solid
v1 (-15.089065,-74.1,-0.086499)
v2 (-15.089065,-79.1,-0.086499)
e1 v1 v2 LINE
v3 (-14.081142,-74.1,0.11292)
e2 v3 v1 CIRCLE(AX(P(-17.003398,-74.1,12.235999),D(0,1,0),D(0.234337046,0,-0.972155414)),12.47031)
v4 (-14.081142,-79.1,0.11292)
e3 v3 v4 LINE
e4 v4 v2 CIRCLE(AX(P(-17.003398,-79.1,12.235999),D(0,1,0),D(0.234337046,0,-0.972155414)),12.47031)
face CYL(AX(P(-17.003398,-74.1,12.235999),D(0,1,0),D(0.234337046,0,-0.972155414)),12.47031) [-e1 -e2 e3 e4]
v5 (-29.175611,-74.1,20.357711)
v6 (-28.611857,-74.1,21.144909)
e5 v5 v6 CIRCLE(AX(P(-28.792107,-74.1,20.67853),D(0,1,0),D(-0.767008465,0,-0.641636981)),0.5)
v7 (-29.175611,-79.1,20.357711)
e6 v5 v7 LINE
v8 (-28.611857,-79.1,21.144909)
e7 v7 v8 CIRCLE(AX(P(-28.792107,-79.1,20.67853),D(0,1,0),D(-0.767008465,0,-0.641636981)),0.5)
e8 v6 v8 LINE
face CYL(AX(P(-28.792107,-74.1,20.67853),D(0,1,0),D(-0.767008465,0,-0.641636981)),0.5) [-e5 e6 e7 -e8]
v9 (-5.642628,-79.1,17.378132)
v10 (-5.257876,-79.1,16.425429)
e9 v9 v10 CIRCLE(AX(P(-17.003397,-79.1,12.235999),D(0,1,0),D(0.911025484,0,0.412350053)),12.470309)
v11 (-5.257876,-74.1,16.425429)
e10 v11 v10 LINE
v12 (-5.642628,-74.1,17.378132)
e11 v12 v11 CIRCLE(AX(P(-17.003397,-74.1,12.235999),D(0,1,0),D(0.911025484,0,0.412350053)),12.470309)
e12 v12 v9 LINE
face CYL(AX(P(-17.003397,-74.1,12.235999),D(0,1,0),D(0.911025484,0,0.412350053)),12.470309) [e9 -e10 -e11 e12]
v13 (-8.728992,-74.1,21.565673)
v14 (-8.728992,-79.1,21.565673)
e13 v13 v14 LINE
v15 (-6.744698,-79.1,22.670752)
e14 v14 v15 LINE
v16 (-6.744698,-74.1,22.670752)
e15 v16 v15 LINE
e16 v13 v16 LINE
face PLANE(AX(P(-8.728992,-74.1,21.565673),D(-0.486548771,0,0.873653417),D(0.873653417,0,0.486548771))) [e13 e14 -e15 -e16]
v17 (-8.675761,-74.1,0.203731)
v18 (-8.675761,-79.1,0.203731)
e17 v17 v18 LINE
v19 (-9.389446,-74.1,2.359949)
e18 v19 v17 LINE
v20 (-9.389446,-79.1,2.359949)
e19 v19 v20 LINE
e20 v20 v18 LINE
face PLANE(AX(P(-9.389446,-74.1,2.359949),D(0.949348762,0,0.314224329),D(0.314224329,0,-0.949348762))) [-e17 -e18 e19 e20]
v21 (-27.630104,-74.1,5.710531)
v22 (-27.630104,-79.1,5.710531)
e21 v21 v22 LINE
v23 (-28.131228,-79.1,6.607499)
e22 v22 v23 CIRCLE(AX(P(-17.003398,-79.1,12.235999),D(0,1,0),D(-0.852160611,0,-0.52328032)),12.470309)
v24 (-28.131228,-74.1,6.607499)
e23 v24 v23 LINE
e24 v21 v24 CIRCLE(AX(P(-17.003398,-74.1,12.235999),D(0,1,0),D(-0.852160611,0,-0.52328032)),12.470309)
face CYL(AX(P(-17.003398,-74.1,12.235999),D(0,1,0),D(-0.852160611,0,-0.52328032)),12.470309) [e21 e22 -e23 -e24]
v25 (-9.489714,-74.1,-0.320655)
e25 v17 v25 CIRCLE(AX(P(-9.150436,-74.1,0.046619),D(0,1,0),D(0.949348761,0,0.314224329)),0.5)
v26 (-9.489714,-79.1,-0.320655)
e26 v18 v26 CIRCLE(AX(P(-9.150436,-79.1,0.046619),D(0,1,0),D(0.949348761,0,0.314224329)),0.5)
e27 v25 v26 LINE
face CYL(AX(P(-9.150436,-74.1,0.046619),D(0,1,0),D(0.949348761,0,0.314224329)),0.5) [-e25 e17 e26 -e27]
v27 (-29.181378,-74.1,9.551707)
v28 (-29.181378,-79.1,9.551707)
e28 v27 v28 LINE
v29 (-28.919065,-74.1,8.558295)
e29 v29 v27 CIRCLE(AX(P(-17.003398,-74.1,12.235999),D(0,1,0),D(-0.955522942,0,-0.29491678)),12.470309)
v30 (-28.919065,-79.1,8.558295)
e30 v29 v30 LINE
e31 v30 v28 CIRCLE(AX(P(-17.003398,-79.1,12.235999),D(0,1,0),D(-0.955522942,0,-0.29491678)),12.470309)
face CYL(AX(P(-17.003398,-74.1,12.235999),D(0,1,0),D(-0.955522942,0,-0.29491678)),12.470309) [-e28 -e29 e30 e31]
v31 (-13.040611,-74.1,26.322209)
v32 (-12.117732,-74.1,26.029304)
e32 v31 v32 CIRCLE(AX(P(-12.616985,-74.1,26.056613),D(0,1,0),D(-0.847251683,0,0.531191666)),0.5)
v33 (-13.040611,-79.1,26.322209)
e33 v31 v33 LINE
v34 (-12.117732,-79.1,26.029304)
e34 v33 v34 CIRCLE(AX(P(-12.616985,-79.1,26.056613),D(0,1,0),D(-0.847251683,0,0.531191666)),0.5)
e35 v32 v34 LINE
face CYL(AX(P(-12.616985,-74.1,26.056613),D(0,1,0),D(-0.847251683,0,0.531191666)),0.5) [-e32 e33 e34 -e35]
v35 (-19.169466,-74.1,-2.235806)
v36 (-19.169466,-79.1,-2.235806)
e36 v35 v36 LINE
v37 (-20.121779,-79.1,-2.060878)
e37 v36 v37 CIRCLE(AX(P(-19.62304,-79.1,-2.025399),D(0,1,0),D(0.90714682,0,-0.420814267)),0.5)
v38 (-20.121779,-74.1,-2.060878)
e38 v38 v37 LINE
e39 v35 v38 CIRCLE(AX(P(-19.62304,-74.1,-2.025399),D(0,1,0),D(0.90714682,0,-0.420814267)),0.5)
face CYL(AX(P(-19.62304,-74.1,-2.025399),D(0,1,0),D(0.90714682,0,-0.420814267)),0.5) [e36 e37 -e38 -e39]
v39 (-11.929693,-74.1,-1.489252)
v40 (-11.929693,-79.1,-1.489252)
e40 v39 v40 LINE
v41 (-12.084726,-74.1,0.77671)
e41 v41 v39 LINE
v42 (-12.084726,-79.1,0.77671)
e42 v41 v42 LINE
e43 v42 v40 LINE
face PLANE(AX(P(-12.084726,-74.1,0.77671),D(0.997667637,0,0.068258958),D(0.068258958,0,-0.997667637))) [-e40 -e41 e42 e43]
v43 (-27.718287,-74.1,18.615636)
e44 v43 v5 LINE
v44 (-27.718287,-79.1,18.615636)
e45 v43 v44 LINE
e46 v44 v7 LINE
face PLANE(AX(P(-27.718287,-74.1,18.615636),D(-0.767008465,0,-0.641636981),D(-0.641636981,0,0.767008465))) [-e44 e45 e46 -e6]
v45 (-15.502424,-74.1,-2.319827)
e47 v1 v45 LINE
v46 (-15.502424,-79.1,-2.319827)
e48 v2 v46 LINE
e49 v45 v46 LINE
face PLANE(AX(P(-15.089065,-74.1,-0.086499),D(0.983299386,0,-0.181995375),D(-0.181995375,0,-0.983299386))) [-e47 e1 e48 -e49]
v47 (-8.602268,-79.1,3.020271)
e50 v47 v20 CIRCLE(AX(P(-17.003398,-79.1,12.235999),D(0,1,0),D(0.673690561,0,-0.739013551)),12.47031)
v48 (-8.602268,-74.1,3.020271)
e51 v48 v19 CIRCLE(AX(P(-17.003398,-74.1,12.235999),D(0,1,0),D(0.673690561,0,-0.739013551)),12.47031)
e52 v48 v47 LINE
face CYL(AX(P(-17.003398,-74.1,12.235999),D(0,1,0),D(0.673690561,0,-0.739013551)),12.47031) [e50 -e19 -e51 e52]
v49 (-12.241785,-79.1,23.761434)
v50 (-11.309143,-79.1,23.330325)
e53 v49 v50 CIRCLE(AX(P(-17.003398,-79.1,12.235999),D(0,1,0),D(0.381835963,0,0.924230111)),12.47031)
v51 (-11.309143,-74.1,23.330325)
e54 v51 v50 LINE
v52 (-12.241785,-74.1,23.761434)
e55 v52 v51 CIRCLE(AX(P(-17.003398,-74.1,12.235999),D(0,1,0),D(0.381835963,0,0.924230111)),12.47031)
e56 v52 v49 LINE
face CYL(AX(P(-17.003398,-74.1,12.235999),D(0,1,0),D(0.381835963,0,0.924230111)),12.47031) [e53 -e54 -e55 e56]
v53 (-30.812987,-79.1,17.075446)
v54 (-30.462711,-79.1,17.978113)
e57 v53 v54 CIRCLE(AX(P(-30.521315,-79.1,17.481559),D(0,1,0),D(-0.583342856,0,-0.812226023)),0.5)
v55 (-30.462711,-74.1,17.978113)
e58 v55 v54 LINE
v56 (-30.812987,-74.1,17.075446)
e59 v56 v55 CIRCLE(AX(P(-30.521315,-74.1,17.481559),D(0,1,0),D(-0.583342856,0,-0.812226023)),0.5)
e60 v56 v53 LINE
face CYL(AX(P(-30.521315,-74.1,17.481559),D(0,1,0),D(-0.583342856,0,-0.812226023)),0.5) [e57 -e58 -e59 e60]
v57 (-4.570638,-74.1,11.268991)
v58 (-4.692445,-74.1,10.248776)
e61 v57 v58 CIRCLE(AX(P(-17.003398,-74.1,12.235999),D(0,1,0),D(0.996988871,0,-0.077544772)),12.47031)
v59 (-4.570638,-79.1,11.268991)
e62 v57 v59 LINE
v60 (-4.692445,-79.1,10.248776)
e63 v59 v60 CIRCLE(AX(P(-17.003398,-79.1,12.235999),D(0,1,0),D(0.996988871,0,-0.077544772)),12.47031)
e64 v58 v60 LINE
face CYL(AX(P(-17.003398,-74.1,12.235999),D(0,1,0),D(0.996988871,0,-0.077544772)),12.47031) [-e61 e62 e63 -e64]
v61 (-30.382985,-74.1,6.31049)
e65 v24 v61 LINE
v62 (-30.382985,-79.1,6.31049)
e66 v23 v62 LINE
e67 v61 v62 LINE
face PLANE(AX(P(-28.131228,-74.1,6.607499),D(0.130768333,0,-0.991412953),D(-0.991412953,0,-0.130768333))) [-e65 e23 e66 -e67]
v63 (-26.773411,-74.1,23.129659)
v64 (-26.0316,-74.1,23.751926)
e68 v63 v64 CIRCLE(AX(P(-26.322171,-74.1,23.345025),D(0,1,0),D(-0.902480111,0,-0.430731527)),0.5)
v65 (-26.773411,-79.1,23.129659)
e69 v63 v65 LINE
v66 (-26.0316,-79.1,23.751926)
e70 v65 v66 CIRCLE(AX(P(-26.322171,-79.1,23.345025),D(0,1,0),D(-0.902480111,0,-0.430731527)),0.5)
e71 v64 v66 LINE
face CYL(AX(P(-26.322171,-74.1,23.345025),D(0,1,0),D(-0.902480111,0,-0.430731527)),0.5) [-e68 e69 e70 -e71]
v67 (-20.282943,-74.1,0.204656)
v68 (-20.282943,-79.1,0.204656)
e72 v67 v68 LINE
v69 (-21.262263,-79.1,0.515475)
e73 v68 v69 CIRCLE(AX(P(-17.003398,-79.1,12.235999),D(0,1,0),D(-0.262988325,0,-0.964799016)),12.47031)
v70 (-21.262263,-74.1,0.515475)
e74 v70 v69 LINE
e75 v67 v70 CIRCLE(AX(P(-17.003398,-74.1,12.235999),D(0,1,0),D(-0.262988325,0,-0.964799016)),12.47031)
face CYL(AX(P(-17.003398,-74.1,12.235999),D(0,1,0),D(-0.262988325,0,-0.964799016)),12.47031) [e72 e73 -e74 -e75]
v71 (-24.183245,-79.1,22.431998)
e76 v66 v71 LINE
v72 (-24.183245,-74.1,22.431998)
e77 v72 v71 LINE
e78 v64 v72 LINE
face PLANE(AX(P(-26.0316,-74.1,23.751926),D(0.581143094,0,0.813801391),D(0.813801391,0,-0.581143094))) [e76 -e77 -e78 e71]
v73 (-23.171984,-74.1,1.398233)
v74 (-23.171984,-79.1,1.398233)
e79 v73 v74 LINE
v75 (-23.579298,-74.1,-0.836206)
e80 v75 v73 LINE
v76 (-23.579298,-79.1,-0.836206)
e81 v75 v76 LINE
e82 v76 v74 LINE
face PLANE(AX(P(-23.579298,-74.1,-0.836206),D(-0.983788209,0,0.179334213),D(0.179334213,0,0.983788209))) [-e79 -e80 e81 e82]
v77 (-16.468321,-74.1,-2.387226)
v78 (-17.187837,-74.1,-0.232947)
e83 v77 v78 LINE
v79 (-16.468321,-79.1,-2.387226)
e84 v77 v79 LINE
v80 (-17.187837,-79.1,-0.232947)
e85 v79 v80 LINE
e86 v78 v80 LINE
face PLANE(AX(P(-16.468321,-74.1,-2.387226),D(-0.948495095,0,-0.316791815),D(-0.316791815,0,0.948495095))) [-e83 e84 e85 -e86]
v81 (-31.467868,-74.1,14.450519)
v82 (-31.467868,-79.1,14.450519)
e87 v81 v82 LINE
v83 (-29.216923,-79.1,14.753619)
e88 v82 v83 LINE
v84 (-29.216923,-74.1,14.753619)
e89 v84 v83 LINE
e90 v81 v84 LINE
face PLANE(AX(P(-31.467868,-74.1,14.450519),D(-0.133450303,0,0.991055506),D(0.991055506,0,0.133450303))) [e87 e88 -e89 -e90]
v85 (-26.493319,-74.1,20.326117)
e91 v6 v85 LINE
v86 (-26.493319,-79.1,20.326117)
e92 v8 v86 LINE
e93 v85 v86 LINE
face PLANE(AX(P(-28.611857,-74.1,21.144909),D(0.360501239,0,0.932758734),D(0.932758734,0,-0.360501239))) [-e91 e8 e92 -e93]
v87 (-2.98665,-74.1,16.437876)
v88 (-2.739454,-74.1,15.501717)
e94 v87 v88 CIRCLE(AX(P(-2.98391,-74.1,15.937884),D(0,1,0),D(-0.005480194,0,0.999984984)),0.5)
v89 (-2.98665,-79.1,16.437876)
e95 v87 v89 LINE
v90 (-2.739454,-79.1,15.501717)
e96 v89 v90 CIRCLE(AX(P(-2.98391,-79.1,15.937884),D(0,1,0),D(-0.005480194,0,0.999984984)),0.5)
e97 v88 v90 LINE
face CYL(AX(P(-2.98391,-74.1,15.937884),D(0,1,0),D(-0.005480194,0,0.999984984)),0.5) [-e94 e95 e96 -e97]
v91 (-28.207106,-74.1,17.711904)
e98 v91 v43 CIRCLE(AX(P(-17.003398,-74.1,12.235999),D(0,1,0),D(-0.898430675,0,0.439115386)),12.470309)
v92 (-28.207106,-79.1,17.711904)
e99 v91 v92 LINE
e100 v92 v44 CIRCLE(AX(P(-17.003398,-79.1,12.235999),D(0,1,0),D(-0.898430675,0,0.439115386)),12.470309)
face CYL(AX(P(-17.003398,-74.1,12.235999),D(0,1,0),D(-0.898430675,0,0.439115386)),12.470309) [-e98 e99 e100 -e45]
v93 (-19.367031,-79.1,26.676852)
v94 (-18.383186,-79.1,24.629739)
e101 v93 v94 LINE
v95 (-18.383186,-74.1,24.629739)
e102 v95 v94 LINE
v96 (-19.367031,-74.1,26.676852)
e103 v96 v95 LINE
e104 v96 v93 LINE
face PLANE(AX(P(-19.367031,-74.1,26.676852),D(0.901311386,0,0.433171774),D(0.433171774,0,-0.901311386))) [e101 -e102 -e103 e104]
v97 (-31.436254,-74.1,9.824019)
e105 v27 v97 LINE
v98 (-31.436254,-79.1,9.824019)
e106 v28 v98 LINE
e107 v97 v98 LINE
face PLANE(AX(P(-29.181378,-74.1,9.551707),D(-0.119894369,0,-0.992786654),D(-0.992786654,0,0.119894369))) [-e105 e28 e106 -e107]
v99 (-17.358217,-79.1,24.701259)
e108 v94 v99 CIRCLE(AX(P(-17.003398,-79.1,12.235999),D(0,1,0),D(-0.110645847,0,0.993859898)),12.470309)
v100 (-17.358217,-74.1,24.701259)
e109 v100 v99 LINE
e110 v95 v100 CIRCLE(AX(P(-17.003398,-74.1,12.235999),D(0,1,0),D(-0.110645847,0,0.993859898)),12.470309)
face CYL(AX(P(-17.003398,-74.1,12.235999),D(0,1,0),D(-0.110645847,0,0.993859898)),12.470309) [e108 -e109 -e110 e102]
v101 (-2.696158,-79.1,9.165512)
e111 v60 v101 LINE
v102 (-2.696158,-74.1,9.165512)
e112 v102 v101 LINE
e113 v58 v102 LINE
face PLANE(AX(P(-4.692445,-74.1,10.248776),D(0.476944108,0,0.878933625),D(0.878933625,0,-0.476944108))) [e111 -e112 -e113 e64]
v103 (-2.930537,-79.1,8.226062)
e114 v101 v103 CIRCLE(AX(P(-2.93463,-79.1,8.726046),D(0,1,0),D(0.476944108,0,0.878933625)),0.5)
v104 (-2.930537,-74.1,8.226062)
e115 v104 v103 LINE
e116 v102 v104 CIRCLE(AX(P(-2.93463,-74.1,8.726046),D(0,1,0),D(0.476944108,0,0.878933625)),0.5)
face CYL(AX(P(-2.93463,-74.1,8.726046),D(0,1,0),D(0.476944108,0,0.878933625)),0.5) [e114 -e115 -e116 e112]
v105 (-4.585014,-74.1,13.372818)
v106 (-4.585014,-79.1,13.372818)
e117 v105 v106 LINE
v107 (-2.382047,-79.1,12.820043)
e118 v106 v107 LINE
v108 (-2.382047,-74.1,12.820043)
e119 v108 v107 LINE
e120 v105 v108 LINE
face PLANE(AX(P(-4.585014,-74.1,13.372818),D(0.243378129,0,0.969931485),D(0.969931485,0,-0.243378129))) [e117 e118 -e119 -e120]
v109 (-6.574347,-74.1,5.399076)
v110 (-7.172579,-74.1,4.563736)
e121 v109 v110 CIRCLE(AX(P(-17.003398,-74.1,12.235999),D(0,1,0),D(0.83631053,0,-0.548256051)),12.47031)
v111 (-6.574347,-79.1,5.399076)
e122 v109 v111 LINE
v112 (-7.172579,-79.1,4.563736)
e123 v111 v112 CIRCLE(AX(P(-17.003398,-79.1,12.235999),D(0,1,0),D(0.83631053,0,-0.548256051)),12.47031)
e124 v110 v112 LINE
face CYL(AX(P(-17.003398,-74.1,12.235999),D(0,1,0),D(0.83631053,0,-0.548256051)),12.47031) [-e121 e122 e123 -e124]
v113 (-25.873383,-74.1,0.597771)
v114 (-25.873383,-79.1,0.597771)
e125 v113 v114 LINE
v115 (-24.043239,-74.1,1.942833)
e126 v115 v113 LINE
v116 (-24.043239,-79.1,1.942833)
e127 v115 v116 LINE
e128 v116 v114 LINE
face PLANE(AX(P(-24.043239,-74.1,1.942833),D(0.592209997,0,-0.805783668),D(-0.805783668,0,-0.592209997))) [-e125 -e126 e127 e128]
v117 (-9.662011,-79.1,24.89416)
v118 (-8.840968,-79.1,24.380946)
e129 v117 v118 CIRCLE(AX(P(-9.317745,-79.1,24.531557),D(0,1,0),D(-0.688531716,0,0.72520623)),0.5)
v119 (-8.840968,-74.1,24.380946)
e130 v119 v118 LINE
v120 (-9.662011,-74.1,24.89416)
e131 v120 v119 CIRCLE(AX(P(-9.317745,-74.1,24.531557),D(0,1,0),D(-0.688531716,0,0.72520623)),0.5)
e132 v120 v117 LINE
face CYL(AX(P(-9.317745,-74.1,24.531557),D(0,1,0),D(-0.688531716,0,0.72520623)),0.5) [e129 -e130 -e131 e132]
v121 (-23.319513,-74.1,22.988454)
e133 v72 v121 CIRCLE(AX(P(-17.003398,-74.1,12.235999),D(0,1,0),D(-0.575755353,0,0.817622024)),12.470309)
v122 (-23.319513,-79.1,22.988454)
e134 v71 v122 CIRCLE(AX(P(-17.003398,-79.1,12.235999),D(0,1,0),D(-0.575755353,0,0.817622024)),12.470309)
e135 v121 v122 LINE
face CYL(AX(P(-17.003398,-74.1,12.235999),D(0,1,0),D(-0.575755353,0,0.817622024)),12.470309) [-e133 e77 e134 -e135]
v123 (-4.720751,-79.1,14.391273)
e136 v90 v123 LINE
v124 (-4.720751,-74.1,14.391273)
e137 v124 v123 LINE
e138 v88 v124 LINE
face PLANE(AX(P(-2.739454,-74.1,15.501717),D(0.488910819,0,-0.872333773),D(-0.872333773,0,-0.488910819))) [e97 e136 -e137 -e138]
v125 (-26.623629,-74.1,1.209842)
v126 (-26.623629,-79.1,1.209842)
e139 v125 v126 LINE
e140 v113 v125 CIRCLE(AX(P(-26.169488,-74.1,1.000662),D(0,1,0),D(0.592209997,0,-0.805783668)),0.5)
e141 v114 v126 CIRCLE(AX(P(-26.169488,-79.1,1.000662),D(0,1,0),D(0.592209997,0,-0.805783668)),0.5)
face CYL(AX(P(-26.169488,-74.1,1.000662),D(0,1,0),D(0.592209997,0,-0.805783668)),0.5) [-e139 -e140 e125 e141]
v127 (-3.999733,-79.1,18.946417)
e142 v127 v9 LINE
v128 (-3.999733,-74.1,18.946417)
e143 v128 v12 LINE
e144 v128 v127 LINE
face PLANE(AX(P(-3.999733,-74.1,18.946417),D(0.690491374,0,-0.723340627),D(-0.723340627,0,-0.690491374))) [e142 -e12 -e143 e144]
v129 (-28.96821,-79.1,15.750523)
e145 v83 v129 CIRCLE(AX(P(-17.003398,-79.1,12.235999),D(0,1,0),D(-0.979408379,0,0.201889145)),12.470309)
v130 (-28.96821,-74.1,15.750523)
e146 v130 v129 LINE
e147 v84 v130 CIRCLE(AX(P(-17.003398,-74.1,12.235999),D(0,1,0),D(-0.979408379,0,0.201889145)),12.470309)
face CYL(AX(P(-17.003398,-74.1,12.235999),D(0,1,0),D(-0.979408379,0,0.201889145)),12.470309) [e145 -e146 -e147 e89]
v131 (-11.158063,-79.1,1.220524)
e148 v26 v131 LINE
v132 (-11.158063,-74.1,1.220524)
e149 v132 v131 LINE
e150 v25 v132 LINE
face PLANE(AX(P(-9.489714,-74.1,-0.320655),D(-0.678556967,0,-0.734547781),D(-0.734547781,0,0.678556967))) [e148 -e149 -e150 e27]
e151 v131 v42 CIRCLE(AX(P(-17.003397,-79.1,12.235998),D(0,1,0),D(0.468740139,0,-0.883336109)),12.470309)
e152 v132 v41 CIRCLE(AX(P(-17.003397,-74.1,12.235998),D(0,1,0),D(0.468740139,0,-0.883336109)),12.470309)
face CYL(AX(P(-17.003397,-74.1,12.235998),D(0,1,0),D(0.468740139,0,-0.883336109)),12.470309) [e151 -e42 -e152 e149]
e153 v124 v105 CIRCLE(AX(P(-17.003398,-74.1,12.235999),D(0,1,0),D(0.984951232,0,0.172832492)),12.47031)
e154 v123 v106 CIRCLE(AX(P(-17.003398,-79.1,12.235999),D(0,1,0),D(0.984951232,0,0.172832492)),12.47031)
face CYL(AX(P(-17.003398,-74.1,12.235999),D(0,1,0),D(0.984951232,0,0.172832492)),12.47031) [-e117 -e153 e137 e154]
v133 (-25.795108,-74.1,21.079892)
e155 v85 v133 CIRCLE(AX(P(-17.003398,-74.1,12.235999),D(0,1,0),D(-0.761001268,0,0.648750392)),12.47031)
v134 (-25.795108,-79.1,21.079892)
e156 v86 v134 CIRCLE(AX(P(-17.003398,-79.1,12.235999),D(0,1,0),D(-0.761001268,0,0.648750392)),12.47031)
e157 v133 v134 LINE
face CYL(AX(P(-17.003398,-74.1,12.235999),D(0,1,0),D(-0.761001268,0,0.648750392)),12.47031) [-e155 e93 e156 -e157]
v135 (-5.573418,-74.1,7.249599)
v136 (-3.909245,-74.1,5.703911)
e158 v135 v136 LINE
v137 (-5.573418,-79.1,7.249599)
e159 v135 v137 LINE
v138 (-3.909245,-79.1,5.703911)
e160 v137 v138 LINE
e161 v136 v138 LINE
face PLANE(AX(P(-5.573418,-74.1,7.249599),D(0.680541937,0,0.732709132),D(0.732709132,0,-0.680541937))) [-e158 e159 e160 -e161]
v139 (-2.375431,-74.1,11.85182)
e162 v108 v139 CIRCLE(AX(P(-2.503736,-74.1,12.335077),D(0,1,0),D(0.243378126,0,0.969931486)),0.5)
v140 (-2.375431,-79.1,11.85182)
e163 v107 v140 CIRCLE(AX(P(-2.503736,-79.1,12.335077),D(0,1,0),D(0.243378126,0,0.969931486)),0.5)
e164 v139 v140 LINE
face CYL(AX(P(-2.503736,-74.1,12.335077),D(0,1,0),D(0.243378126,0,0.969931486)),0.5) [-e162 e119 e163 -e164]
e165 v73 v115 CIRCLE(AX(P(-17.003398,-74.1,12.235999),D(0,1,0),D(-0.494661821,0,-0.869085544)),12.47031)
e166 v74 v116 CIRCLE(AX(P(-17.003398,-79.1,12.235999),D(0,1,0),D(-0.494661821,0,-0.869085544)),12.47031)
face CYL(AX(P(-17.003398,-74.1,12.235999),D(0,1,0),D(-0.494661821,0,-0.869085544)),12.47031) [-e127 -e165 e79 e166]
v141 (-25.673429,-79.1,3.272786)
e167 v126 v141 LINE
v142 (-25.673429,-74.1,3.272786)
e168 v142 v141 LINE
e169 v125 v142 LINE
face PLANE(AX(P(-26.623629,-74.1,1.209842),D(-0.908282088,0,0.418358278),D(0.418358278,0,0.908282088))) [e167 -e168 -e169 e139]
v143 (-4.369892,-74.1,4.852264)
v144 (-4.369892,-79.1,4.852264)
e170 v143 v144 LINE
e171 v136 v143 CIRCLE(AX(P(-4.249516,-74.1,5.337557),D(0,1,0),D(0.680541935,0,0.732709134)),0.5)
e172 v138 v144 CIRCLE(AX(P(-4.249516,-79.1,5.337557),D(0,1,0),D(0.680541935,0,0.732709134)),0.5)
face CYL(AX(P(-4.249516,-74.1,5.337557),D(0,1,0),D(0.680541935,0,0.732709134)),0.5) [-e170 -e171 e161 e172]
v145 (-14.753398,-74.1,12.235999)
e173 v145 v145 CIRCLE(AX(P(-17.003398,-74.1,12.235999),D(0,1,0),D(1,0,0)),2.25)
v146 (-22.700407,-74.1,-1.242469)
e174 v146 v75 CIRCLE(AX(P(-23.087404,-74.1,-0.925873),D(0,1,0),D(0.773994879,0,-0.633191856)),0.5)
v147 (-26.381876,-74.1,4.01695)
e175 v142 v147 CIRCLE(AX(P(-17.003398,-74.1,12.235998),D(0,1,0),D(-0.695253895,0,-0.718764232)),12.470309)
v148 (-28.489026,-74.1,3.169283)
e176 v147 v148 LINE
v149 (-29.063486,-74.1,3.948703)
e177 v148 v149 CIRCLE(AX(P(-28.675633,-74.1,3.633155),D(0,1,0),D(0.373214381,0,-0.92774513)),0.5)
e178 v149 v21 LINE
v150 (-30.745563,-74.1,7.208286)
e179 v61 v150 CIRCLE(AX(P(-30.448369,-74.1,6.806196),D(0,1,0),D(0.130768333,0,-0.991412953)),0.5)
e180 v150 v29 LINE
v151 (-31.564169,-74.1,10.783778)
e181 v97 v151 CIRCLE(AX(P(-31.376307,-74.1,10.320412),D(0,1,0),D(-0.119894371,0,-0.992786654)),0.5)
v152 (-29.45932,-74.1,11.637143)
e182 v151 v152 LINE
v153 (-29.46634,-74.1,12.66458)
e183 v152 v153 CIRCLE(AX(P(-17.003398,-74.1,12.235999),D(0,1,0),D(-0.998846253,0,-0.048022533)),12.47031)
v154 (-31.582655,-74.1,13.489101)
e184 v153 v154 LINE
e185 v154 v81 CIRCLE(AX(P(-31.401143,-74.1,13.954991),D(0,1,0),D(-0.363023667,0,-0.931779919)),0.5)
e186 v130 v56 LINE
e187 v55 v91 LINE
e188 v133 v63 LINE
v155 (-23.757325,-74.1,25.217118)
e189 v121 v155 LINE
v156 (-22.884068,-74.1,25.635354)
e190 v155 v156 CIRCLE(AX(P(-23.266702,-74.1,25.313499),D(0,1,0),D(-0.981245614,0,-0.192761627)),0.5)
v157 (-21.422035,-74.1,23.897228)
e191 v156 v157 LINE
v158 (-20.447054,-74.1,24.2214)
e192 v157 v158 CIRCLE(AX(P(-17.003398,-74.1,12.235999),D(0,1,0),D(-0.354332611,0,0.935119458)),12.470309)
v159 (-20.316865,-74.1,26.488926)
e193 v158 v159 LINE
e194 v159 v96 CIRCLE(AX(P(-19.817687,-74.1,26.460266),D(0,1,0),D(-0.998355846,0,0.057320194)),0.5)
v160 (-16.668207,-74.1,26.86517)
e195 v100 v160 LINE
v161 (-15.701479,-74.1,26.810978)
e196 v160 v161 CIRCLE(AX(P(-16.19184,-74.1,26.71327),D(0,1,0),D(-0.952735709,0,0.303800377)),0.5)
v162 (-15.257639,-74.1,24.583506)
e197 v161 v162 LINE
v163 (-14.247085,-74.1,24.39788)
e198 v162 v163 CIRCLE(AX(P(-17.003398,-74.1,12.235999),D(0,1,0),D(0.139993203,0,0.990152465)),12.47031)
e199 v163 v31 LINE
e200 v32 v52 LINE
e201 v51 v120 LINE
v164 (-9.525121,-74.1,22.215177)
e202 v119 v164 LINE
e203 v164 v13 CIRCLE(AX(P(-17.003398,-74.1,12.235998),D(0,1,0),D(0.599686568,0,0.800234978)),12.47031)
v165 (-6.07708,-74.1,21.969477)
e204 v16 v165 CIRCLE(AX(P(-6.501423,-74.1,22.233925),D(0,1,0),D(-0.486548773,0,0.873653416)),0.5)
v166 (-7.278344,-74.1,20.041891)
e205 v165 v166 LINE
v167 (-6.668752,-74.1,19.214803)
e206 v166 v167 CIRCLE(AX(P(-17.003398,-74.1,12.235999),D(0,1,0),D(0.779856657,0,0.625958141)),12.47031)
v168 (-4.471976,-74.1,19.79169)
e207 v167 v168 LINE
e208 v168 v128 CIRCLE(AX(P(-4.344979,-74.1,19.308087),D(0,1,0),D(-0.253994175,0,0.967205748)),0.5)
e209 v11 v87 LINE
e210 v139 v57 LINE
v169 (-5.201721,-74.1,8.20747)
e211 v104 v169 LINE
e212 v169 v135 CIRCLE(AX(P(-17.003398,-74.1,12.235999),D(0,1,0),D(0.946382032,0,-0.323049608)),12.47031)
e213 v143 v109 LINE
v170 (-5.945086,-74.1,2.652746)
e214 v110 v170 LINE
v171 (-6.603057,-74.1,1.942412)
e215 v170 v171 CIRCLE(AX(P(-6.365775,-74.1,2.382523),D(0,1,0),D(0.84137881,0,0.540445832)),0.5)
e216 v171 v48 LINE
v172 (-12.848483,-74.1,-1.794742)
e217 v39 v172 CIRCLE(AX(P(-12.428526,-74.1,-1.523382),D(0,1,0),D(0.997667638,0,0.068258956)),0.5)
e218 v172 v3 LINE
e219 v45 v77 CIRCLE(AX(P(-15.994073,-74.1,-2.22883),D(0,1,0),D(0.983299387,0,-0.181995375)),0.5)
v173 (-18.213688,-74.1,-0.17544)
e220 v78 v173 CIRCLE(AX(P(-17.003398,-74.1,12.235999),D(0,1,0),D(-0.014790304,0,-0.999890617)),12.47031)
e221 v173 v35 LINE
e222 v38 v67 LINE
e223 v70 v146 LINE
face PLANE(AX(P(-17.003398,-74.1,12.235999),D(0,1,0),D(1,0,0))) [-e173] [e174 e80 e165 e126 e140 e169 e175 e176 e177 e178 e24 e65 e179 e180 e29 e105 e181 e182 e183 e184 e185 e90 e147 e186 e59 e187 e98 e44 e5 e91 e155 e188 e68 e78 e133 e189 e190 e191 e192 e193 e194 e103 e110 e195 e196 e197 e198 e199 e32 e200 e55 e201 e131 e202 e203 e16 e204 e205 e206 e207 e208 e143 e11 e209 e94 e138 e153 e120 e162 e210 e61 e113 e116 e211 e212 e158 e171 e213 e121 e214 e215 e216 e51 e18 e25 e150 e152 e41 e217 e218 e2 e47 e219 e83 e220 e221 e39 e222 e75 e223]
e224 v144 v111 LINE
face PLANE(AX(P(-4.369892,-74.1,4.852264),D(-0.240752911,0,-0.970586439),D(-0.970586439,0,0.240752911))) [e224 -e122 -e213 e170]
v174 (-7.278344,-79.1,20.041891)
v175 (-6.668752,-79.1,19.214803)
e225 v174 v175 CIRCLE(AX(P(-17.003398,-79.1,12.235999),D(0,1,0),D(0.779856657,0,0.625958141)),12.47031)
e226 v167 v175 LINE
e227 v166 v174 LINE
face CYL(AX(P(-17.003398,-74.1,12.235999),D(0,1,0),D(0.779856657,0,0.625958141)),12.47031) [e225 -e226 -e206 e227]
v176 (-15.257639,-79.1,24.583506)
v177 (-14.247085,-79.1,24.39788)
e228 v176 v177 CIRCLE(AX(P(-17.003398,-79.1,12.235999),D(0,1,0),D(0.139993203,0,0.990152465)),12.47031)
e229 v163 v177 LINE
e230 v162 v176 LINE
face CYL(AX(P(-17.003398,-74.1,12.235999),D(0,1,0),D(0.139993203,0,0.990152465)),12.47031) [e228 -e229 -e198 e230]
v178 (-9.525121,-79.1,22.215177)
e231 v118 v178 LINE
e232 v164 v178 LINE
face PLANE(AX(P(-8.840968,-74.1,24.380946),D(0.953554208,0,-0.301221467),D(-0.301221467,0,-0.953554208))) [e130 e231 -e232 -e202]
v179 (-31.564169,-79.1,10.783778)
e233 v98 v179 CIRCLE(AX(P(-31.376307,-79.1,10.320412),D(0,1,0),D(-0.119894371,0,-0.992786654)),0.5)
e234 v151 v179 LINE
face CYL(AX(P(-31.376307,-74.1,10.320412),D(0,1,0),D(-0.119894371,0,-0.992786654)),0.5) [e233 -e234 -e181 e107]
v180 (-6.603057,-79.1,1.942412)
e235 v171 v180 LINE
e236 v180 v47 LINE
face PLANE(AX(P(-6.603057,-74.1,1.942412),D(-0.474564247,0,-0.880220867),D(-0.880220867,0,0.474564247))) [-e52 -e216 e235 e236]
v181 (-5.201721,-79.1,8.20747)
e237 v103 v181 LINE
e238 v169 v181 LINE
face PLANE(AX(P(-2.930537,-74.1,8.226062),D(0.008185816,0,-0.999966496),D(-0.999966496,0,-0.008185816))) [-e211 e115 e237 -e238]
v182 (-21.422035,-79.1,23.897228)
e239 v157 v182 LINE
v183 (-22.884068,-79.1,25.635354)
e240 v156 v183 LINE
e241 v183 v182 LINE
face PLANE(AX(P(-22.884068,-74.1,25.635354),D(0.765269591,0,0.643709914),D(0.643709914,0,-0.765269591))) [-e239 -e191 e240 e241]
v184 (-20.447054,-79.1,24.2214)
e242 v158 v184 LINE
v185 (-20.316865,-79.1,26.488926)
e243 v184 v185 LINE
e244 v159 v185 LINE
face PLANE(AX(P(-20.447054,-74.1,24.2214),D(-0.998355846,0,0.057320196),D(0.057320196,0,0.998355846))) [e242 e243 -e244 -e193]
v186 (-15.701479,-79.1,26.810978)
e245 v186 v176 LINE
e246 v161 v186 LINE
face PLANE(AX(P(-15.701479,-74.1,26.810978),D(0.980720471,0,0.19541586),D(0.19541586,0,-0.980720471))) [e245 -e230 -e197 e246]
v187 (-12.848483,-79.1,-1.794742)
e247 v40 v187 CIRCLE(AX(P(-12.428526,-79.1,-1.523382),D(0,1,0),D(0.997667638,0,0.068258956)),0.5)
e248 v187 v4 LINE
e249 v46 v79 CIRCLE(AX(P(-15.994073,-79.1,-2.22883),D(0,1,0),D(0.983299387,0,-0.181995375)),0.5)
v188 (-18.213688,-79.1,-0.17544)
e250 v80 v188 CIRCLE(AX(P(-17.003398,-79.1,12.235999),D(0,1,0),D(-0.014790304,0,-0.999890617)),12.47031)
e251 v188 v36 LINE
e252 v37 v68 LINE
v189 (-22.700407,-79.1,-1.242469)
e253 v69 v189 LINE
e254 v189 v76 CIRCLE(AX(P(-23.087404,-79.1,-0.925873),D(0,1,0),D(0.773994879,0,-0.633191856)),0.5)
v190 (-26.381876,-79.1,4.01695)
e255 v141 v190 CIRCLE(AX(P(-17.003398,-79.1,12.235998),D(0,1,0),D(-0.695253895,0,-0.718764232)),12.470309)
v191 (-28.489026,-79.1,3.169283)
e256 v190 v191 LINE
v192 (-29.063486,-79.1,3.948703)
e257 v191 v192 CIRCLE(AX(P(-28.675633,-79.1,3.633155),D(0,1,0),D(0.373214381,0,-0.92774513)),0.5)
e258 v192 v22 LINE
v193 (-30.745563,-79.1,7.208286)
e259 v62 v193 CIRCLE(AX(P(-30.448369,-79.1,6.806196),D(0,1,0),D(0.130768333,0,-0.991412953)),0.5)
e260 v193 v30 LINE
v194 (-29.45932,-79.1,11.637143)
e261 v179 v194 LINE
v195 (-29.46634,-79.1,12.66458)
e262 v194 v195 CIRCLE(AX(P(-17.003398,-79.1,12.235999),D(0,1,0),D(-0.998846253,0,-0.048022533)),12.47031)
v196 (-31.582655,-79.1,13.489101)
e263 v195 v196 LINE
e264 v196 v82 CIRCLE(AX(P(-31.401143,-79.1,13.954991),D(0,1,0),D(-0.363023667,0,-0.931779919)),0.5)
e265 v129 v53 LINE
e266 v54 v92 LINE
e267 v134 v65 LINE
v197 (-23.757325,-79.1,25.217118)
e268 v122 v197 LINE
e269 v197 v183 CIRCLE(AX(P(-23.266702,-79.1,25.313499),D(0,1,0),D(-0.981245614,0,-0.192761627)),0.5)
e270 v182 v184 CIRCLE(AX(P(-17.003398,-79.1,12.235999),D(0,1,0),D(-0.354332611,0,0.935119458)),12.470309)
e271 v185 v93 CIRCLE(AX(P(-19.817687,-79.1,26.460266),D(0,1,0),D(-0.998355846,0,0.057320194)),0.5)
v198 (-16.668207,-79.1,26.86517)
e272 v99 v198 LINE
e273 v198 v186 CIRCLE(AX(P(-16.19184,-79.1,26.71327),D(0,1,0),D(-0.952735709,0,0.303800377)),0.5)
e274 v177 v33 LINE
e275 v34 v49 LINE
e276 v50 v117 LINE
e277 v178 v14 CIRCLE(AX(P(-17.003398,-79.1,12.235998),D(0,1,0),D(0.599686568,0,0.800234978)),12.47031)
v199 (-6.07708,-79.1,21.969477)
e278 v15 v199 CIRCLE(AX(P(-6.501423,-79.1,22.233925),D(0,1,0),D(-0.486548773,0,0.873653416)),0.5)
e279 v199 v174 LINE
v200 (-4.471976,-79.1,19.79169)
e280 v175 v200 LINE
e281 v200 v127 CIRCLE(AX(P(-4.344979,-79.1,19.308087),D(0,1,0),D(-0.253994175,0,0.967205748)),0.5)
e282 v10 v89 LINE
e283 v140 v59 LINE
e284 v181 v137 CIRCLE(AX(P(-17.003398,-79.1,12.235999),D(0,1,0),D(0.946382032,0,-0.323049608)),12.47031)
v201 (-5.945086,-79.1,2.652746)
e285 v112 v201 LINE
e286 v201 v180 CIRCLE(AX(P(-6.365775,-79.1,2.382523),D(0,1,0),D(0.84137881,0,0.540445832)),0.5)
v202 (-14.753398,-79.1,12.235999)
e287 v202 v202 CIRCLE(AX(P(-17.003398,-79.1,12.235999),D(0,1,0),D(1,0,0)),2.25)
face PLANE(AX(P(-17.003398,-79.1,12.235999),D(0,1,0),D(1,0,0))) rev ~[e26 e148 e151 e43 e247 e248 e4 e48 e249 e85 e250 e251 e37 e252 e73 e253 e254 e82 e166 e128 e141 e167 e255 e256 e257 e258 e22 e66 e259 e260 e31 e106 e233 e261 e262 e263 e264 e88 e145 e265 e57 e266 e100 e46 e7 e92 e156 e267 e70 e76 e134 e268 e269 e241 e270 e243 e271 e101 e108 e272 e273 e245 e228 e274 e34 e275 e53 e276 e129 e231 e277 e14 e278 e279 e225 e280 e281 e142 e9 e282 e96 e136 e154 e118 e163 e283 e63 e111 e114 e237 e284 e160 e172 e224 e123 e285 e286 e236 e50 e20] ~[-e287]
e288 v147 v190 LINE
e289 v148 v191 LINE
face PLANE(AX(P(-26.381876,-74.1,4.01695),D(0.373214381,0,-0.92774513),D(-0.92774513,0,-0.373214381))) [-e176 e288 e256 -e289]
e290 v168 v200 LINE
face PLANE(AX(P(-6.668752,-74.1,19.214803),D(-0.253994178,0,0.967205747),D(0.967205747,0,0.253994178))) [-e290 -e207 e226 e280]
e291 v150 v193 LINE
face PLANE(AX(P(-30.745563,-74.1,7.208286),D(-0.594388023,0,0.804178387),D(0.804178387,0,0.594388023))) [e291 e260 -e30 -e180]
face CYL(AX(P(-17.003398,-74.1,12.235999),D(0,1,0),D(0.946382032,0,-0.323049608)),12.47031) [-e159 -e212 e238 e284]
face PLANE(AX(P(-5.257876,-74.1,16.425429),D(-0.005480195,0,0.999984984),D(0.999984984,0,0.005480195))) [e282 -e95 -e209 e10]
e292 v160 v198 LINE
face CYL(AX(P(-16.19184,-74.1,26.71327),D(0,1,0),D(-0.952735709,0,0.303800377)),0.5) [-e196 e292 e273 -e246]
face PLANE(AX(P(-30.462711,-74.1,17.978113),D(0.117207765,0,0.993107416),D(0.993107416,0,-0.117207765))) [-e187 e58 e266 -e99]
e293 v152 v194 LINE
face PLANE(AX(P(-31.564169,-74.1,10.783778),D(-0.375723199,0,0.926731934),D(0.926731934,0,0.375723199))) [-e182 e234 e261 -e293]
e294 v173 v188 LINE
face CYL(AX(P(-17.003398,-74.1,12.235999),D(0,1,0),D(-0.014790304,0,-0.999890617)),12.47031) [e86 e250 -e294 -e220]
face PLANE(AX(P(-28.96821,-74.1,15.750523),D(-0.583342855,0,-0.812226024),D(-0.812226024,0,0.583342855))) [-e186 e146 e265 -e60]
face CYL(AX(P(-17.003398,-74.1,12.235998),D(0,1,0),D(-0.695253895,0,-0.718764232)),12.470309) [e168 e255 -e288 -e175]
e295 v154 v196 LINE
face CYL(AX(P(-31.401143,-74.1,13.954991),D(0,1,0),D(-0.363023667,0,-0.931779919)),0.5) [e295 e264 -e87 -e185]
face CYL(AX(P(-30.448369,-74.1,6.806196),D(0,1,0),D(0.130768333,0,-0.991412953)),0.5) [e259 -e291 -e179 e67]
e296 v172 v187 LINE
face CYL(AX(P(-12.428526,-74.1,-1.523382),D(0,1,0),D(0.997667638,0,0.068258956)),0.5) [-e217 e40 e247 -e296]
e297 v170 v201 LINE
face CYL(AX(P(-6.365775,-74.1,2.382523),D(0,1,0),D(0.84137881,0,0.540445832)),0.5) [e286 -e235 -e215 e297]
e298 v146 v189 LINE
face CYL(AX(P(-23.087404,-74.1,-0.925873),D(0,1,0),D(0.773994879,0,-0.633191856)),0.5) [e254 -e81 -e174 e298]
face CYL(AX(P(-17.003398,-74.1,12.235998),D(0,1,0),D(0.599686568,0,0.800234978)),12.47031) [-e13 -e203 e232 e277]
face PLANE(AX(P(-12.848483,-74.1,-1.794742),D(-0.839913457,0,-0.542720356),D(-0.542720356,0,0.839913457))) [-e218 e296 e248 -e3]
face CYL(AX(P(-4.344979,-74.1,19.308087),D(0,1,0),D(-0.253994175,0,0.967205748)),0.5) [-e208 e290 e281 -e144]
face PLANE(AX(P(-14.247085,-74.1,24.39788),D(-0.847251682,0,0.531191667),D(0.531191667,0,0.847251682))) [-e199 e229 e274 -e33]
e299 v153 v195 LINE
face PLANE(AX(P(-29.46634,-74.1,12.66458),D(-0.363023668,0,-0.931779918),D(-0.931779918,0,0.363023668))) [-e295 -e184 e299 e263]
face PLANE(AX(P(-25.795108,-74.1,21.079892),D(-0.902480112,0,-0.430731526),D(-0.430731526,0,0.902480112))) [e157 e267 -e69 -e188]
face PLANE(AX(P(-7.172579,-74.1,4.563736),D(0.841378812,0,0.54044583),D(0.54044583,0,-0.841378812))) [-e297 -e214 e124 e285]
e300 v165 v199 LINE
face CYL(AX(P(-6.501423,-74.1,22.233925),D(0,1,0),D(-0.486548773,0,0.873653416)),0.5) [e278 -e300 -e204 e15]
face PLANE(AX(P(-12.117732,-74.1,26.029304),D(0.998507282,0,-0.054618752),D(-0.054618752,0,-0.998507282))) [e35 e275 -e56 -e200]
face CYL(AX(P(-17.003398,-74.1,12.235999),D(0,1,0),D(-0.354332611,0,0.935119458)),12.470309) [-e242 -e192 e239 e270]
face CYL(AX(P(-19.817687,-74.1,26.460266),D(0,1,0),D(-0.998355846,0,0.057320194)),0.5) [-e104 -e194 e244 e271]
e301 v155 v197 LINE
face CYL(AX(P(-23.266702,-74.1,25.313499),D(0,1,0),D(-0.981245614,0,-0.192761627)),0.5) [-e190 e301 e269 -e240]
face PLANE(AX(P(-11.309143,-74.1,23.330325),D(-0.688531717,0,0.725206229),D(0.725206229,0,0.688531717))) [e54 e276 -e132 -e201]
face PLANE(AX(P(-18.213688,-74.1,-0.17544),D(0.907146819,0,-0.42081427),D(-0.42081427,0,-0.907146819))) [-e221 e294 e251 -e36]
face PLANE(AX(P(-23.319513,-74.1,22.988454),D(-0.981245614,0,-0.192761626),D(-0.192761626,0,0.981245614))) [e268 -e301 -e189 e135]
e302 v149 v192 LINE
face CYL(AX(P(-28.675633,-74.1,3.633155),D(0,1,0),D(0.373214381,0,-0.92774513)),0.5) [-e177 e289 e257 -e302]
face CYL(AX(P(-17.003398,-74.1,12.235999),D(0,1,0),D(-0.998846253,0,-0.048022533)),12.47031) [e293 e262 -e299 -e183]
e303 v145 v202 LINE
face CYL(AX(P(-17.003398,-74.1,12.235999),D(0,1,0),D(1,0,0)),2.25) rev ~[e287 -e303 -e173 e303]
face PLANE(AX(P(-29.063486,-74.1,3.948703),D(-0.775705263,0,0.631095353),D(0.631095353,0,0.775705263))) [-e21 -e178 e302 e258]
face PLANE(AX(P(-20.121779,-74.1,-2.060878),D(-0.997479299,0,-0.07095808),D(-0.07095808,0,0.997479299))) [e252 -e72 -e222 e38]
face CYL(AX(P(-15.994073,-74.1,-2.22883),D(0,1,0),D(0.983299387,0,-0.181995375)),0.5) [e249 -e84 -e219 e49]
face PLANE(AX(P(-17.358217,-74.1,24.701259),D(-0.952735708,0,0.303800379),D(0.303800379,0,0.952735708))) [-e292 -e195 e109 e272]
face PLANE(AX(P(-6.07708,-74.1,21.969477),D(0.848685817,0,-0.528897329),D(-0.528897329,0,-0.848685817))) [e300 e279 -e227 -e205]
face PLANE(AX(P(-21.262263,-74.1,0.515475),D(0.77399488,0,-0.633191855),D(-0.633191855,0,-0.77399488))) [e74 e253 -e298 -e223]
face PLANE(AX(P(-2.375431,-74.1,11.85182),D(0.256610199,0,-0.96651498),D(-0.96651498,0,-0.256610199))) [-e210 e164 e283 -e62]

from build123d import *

# Parameters (mm, degrees)
BOSS_EXTRUDE1_DEPTH = 5
SKETCH6_R           = 2.25
CUT_EXTRUDE1_DEPTH  = 6


with BuildPart() as part:
    # Sketch1 → Boss-Extrude1 (new body)
    with BuildSketch(Plane(origin=(0, -74.1, 0), x_dir=(1, 0, 0), z_dir=(0, 1, 0))):
        with BuildLine():
            Line((-5.573417888, -7.249599077), (-3.909244984, -5.703911435))
            ThreePointArc((-3.909244984, -5.703911435), (-3.809726926, -5.099679562), (-4.369892407, -4.852263649))
            Line((-4.369892407, -4.852263649), (-6.574346511, -5.399076092))
            ThreePointArc((-6.574346511, -5.399076092), (-6.86485582, -4.975241994), (-7.172578897, -4.563735604))
            Line((-7.172578897, -4.563735604), (-5.94508593, -2.65274561))
            ThreePointArc((-5.94508593, -2.65274561), (-5.998960771, -2.042747658), (-6.603057459, -1.942412262))
            Line((-6.603057459, -1.942412262), (-8.602267858, -3.020271029))
            ThreePointArc((-8.602267858, -3.020271029), (-8.989053537, -2.681999186), (-9.389446406, -2.359948643))
            Line((-9.389446406, -2.359948643), (-8.675761274, -0.203730826))
            ThreePointArc((-8.675761274, -0.203730826), (-8.87964386, 0.37370479), (-9.489714138, 0.320655229))
            Line((-9.489714138, 0.320655229), (-11.158063091, -1.220524032))
            ThreePointArc((-11.158063091, -1.220524032), (-11.616821973, -0.989069307), (-12.084726477, -0.776710232))
            Line((-12.084726477, -0.776710232), (-11.92969264, 1.489252312))
            ThreePointArc((-11.92969264, 1.489252312), (-12.270772279, 1.997843189), (-12.848483188, 1.794741969))
            Line((-12.848483188, 1.794741969), (-14.081142194, -0.112919824))
            ThreePointArc((-14.081142194, -0.112919824), (-14.583048772, -0.00282537), (-15.089064749, 0.086498936))
            Line((-15.089064749, 0.086498936), (-15.502423555, 2.319827447))
            ThreePointArc((-15.502423555, 2.319827447), (-15.959268957, 2.72761695), (-16.468320796, 2.387225667))
            Line((-16.468320796, 2.387225667), (-17.187837357, 0.232946748))
            ThreePointArc((-17.187837357, 0.232946748), (-17.701354994, 0.214763292), (-18.213687601, 0.175440255))
            Line((-18.213687601, 0.175440255), (-19.169466196, 2.235806489))
            ThreePointArc((-19.169466196, 2.235806489), (-19.713372085, 2.517171704), (-20.121779254, 2.060878394))
            Line((-20.121779254, 2.060878394), (-20.282943498, -0.204656383))
            ThreePointArc((-20.282943498, -0.204656383), (-20.775805993, -0.349975216), (-21.262263487, -0.515474786))
            Line((-21.262263487, -0.515474786), (-22.700406786, 1.242468784))
            ThreePointArc((-22.700406786, 1.242468784), (-23.297197554, 1.379730498), (-23.57929833, 0.83620575))
            Line((-23.57929833, 0.83620575), (-23.171983715, -1.398233005))
            ThreePointArc((-23.171983715, -1.398233005), (-23.613222703, -1.661556297), (-24.043239171, -1.942833453))
            Line((-24.043239171, -1.942833453), (-25.873383342, -0.597770608))
            ThreePointArc((-25.873383342, -0.597770608), (-26.485560432, -0.613237052), (-26.623629384, -1.209841581))
            Line((-26.623629384, -1.209841581), (-25.673428985, -3.272786307))
            ThreePointArc((-25.673428985, -3.272786307), (-26.0353198, -3.637568488), (-26.381875725, -4.016949552))
            Line((-26.381875725, -4.016949552), (-28.489026078, -3.169282677))
            ThreePointArc((-28.489026078, -3.169282677), (-29.078124151, -3.336505465), (-29.063485901, -3.948702919))
            Line((-29.063485901, -3.948702919), (-27.630104303, -5.710531213))
            ThreePointArc((-27.630104303, -5.710531213), (-27.889908013, -6.153851676), (-28.131228013, -6.607498741))
            Line((-28.131228013, -6.607498741), (-30.382984542, -6.310489863))
            ThreePointArc((-30.382984542, -6.310489863), (-30.911988399, -6.618961773), (-30.745562721, -7.208285533))
            Line((-30.745562721, -7.208285533), (-28.919064562, -8.558295243))
            ThreePointArc((-28.919064562, -8.558295243), (-29.060456745, -9.052298535), (-29.181377796, -9.551707286))
            Line((-29.181377796, -9.551707286), (-31.436254358, -9.824018565))
            ThreePointArc((-31.436254358, -9.824018565), (-31.871924741, -10.254357173), (-31.564168772, -10.783777859))
            Line((-31.564168772, -10.783777859), (-29.459319649, -11.637142911))
            ThreePointArc((-29.459319649, -11.637142911), (-29.473416113, -12.150788987), (-29.466340301, -12.664579737))
            Line((-29.466340301, -12.664579737), (-31.582654708, -13.489100854))
            ThreePointArc((-31.582654708, -13.489100854), (-31.897616846, -14.014266401), (-31.467868026, -14.450518566))
            Line((-31.467868026, -14.450518566), (-29.21692335, -14.753618895))
            ThreePointArc((-29.21692335, -14.753618895), (-29.102838363, -15.254633483), (-28.968210287, -15.750522868))
            Line((-28.968210287, -15.750522868), (-30.812986722, -17.07544613))
            ThreePointArc((-30.812986722, -17.07544613), (-30.987450384, -17.662440534), (-30.462711412, -17.97811285))
            Line((-30.462711412, -17.97811285), (-28.207106316, -17.711903547))
            ThreePointArc((-28.207106316, -17.711903547), (-27.972008257, -18.168806058), (-27.718287094, -18.615635525))
            Line((-27.718287094, -18.615635525), (-29.175611469, -20.357711129))
            ThreePointArc((-29.175611469, -20.357711129), (-29.198614462, -20.969651374), (-28.611856617, -21.144908987))
            Line((-28.611856617, -21.144908987), (-26.493319064, -20.326116962))
            ThreePointArc((-26.493319064, -20.326116962), (-26.151980009, -20.710198531), (-25.795107994, -21.079892141))
            Line((-25.795107994, -21.079892141), (-26.773411257, -23.129659071))
            ThreePointArc((-26.773411257, -23.129659071), (-26.643508219, -23.728094699), (-26.031599654, -23.75192553))
            Line((-26.031599654, -23.75192553), (-24.183245151, -22.431998497))
            ThreePointArc((-24.183245151, -22.431998497), (-23.757112689, -22.719125866), (-23.319513401, -22.988454411))
            Line((-23.319513401, -22.988454411), (-23.757325162, -25.217118272))
            ThreePointArc((-23.757325162, -25.217118272), (-23.482678378, -25.764447372), (-22.88406756, -25.635354042))
            Line((-22.88406756, -25.635354042), (-21.422035016, -23.897227871))
            ThreePointArc((-21.422035016, -23.897227871), (-20.937884616, -24.069359772), (-20.44705403, -24.221400348))
            Line((-20.44705403, -24.221400348), (-20.316864965, -26.488925992))
            ThreePointArc((-20.316864965, -26.488925992), (-19.914731502, -26.950757865), (-19.367031349, -26.676851782))
            Line((-19.367031349, -26.676851782), (-18.383185648, -24.629739333))
            ThreePointArc((-18.383185648, -24.629739333), (-17.87143826, -24.676060085), (-17.358217065, -24.701259423))
            Line((-17.358217065, -24.701259423), (-16.668207433, -26.865169876))
            ThreePointArc((-16.668207433, -26.865169876), (-16.163854816, -27.212485926), (-15.701479344, -26.810977617))
            Line((-15.701479344, -26.810977617), (-15.257639128, -24.583506493))
            ThreePointArc((-15.257639128, -24.583506493), (-14.750449723, -24.501105593), (-14.247085495, -24.397880327))
            Line((-14.247085495, -24.397880327), (-13.040611138, -26.322209137))
            ThreePointArc((-13.040611138, -26.322209137), (-12.465729697, -26.533186219), (-12.117731656, -26.029303927))
            Line((-12.117731656, -26.029303927), (-12.241785039, -23.761434332))
            ThreePointArc((-12.241785039, -23.761434332), (-11.771022192, -23.555489332), (-11.309143157, -23.330325485))
            Line((-11.309143157, -23.330325485), (-9.662011296, -24.894159994))
            ThreePointArc((-9.662011296, -24.894159994), (-9.052722946, -24.955541642), (-8.840968333, -24.380946146))
            Line((-8.840968333, -24.380946146), (-9.525120585, -22.215176667))
            ThreePointArc((-9.525120585, -22.215176667), (-9.120364058, -21.898627848), (-8.728991773, -21.565673292))
            Line((-8.728991773, -21.565673292), (-6.744697761, -22.670752028))
            ThreePointArc((-6.744697761, -22.670752028), (-6.139286329, -22.578681408), (-6.077080467, -21.969476655))
            Line((-6.077080467, -21.969476655), (-7.278343785, -20.041890553))
            ThreePointArc((-7.278343785, -20.041890553), (-6.965025918, -19.634627842), (-6.668751745, -19.214803336))
            Line((-6.668751745, -19.214803336), (-4.471976071, -19.791690138))
            ThreePointArc((-4.471976071, -19.791690138), (-3.908481786, -19.551952385), (-3.999733295, -18.94641695))
            Line((-3.999733295, -18.94641695), (-5.642627888, -17.378131549))
            ThreePointArc((-5.642627888, -17.378131549), (-5.440435595, -16.905744761), (-5.257875529, -16.425429423))
            Line((-5.257875529, -16.425429423), (-2.986649689, -16.43787637))
            ThreePointArc((-2.986649689, -16.43787637), (-2.500478968, -16.065535089), (-2.739454182, -15.501716992))
            Line((-2.739454182, -15.501716992), (-4.72075094, -14.391273432))
            ThreePointArc((-4.72075094, -14.391273432), (-4.642388707, -13.883444364), (-4.585013668, -13.372818174))
            Line((-4.585013668, -13.372818174), (-2.382047135, -12.820043179))
            ThreePointArc((-2.382047135, -12.820043179), (-2.003747871, -12.338493942), (-2.375431099, -11.851819947))
            Line((-2.375431099, -11.851819947), (-4.570637859, -11.26899148))
            ThreePointArc((-4.570637859, -11.26899148), (-4.621029474, -10.757628901), (-4.692444547, -10.24877638))
            Line((-4.692444547, -10.24877638), (-2.696157809, -9.16551233))
            ThreePointArc((-2.696157809, -9.16551233), (-2.449499938, -8.605012646), (-2.930536955, -8.226062269))
            Line((-2.930536955, -8.226062269), (-5.201720804, -8.207470152))
            ThreePointArc((-5.201720804, -8.207470152), (-5.377699975, -7.724704854), (-5.573417888, -7.249599077))
        make_face()
    extrude(amount=-BOSS_EXTRUDE1_DEPTH)

    # Sketch6 → Cut-Extrude1 (cut, through all)
    with BuildSketch(Plane(origin=(0, -74.1, 0), x_dir=(1, 0, 0), z_dir=(0, 1, 0))):
        with Locations((-17.003397692, -12.235998762)):
            Circle(SKETCH6_R)
    extrude(amount=-CUT_EXTRUDE1_DEPTH, mode=Mode.SUBTRACT)


solid = part.part
